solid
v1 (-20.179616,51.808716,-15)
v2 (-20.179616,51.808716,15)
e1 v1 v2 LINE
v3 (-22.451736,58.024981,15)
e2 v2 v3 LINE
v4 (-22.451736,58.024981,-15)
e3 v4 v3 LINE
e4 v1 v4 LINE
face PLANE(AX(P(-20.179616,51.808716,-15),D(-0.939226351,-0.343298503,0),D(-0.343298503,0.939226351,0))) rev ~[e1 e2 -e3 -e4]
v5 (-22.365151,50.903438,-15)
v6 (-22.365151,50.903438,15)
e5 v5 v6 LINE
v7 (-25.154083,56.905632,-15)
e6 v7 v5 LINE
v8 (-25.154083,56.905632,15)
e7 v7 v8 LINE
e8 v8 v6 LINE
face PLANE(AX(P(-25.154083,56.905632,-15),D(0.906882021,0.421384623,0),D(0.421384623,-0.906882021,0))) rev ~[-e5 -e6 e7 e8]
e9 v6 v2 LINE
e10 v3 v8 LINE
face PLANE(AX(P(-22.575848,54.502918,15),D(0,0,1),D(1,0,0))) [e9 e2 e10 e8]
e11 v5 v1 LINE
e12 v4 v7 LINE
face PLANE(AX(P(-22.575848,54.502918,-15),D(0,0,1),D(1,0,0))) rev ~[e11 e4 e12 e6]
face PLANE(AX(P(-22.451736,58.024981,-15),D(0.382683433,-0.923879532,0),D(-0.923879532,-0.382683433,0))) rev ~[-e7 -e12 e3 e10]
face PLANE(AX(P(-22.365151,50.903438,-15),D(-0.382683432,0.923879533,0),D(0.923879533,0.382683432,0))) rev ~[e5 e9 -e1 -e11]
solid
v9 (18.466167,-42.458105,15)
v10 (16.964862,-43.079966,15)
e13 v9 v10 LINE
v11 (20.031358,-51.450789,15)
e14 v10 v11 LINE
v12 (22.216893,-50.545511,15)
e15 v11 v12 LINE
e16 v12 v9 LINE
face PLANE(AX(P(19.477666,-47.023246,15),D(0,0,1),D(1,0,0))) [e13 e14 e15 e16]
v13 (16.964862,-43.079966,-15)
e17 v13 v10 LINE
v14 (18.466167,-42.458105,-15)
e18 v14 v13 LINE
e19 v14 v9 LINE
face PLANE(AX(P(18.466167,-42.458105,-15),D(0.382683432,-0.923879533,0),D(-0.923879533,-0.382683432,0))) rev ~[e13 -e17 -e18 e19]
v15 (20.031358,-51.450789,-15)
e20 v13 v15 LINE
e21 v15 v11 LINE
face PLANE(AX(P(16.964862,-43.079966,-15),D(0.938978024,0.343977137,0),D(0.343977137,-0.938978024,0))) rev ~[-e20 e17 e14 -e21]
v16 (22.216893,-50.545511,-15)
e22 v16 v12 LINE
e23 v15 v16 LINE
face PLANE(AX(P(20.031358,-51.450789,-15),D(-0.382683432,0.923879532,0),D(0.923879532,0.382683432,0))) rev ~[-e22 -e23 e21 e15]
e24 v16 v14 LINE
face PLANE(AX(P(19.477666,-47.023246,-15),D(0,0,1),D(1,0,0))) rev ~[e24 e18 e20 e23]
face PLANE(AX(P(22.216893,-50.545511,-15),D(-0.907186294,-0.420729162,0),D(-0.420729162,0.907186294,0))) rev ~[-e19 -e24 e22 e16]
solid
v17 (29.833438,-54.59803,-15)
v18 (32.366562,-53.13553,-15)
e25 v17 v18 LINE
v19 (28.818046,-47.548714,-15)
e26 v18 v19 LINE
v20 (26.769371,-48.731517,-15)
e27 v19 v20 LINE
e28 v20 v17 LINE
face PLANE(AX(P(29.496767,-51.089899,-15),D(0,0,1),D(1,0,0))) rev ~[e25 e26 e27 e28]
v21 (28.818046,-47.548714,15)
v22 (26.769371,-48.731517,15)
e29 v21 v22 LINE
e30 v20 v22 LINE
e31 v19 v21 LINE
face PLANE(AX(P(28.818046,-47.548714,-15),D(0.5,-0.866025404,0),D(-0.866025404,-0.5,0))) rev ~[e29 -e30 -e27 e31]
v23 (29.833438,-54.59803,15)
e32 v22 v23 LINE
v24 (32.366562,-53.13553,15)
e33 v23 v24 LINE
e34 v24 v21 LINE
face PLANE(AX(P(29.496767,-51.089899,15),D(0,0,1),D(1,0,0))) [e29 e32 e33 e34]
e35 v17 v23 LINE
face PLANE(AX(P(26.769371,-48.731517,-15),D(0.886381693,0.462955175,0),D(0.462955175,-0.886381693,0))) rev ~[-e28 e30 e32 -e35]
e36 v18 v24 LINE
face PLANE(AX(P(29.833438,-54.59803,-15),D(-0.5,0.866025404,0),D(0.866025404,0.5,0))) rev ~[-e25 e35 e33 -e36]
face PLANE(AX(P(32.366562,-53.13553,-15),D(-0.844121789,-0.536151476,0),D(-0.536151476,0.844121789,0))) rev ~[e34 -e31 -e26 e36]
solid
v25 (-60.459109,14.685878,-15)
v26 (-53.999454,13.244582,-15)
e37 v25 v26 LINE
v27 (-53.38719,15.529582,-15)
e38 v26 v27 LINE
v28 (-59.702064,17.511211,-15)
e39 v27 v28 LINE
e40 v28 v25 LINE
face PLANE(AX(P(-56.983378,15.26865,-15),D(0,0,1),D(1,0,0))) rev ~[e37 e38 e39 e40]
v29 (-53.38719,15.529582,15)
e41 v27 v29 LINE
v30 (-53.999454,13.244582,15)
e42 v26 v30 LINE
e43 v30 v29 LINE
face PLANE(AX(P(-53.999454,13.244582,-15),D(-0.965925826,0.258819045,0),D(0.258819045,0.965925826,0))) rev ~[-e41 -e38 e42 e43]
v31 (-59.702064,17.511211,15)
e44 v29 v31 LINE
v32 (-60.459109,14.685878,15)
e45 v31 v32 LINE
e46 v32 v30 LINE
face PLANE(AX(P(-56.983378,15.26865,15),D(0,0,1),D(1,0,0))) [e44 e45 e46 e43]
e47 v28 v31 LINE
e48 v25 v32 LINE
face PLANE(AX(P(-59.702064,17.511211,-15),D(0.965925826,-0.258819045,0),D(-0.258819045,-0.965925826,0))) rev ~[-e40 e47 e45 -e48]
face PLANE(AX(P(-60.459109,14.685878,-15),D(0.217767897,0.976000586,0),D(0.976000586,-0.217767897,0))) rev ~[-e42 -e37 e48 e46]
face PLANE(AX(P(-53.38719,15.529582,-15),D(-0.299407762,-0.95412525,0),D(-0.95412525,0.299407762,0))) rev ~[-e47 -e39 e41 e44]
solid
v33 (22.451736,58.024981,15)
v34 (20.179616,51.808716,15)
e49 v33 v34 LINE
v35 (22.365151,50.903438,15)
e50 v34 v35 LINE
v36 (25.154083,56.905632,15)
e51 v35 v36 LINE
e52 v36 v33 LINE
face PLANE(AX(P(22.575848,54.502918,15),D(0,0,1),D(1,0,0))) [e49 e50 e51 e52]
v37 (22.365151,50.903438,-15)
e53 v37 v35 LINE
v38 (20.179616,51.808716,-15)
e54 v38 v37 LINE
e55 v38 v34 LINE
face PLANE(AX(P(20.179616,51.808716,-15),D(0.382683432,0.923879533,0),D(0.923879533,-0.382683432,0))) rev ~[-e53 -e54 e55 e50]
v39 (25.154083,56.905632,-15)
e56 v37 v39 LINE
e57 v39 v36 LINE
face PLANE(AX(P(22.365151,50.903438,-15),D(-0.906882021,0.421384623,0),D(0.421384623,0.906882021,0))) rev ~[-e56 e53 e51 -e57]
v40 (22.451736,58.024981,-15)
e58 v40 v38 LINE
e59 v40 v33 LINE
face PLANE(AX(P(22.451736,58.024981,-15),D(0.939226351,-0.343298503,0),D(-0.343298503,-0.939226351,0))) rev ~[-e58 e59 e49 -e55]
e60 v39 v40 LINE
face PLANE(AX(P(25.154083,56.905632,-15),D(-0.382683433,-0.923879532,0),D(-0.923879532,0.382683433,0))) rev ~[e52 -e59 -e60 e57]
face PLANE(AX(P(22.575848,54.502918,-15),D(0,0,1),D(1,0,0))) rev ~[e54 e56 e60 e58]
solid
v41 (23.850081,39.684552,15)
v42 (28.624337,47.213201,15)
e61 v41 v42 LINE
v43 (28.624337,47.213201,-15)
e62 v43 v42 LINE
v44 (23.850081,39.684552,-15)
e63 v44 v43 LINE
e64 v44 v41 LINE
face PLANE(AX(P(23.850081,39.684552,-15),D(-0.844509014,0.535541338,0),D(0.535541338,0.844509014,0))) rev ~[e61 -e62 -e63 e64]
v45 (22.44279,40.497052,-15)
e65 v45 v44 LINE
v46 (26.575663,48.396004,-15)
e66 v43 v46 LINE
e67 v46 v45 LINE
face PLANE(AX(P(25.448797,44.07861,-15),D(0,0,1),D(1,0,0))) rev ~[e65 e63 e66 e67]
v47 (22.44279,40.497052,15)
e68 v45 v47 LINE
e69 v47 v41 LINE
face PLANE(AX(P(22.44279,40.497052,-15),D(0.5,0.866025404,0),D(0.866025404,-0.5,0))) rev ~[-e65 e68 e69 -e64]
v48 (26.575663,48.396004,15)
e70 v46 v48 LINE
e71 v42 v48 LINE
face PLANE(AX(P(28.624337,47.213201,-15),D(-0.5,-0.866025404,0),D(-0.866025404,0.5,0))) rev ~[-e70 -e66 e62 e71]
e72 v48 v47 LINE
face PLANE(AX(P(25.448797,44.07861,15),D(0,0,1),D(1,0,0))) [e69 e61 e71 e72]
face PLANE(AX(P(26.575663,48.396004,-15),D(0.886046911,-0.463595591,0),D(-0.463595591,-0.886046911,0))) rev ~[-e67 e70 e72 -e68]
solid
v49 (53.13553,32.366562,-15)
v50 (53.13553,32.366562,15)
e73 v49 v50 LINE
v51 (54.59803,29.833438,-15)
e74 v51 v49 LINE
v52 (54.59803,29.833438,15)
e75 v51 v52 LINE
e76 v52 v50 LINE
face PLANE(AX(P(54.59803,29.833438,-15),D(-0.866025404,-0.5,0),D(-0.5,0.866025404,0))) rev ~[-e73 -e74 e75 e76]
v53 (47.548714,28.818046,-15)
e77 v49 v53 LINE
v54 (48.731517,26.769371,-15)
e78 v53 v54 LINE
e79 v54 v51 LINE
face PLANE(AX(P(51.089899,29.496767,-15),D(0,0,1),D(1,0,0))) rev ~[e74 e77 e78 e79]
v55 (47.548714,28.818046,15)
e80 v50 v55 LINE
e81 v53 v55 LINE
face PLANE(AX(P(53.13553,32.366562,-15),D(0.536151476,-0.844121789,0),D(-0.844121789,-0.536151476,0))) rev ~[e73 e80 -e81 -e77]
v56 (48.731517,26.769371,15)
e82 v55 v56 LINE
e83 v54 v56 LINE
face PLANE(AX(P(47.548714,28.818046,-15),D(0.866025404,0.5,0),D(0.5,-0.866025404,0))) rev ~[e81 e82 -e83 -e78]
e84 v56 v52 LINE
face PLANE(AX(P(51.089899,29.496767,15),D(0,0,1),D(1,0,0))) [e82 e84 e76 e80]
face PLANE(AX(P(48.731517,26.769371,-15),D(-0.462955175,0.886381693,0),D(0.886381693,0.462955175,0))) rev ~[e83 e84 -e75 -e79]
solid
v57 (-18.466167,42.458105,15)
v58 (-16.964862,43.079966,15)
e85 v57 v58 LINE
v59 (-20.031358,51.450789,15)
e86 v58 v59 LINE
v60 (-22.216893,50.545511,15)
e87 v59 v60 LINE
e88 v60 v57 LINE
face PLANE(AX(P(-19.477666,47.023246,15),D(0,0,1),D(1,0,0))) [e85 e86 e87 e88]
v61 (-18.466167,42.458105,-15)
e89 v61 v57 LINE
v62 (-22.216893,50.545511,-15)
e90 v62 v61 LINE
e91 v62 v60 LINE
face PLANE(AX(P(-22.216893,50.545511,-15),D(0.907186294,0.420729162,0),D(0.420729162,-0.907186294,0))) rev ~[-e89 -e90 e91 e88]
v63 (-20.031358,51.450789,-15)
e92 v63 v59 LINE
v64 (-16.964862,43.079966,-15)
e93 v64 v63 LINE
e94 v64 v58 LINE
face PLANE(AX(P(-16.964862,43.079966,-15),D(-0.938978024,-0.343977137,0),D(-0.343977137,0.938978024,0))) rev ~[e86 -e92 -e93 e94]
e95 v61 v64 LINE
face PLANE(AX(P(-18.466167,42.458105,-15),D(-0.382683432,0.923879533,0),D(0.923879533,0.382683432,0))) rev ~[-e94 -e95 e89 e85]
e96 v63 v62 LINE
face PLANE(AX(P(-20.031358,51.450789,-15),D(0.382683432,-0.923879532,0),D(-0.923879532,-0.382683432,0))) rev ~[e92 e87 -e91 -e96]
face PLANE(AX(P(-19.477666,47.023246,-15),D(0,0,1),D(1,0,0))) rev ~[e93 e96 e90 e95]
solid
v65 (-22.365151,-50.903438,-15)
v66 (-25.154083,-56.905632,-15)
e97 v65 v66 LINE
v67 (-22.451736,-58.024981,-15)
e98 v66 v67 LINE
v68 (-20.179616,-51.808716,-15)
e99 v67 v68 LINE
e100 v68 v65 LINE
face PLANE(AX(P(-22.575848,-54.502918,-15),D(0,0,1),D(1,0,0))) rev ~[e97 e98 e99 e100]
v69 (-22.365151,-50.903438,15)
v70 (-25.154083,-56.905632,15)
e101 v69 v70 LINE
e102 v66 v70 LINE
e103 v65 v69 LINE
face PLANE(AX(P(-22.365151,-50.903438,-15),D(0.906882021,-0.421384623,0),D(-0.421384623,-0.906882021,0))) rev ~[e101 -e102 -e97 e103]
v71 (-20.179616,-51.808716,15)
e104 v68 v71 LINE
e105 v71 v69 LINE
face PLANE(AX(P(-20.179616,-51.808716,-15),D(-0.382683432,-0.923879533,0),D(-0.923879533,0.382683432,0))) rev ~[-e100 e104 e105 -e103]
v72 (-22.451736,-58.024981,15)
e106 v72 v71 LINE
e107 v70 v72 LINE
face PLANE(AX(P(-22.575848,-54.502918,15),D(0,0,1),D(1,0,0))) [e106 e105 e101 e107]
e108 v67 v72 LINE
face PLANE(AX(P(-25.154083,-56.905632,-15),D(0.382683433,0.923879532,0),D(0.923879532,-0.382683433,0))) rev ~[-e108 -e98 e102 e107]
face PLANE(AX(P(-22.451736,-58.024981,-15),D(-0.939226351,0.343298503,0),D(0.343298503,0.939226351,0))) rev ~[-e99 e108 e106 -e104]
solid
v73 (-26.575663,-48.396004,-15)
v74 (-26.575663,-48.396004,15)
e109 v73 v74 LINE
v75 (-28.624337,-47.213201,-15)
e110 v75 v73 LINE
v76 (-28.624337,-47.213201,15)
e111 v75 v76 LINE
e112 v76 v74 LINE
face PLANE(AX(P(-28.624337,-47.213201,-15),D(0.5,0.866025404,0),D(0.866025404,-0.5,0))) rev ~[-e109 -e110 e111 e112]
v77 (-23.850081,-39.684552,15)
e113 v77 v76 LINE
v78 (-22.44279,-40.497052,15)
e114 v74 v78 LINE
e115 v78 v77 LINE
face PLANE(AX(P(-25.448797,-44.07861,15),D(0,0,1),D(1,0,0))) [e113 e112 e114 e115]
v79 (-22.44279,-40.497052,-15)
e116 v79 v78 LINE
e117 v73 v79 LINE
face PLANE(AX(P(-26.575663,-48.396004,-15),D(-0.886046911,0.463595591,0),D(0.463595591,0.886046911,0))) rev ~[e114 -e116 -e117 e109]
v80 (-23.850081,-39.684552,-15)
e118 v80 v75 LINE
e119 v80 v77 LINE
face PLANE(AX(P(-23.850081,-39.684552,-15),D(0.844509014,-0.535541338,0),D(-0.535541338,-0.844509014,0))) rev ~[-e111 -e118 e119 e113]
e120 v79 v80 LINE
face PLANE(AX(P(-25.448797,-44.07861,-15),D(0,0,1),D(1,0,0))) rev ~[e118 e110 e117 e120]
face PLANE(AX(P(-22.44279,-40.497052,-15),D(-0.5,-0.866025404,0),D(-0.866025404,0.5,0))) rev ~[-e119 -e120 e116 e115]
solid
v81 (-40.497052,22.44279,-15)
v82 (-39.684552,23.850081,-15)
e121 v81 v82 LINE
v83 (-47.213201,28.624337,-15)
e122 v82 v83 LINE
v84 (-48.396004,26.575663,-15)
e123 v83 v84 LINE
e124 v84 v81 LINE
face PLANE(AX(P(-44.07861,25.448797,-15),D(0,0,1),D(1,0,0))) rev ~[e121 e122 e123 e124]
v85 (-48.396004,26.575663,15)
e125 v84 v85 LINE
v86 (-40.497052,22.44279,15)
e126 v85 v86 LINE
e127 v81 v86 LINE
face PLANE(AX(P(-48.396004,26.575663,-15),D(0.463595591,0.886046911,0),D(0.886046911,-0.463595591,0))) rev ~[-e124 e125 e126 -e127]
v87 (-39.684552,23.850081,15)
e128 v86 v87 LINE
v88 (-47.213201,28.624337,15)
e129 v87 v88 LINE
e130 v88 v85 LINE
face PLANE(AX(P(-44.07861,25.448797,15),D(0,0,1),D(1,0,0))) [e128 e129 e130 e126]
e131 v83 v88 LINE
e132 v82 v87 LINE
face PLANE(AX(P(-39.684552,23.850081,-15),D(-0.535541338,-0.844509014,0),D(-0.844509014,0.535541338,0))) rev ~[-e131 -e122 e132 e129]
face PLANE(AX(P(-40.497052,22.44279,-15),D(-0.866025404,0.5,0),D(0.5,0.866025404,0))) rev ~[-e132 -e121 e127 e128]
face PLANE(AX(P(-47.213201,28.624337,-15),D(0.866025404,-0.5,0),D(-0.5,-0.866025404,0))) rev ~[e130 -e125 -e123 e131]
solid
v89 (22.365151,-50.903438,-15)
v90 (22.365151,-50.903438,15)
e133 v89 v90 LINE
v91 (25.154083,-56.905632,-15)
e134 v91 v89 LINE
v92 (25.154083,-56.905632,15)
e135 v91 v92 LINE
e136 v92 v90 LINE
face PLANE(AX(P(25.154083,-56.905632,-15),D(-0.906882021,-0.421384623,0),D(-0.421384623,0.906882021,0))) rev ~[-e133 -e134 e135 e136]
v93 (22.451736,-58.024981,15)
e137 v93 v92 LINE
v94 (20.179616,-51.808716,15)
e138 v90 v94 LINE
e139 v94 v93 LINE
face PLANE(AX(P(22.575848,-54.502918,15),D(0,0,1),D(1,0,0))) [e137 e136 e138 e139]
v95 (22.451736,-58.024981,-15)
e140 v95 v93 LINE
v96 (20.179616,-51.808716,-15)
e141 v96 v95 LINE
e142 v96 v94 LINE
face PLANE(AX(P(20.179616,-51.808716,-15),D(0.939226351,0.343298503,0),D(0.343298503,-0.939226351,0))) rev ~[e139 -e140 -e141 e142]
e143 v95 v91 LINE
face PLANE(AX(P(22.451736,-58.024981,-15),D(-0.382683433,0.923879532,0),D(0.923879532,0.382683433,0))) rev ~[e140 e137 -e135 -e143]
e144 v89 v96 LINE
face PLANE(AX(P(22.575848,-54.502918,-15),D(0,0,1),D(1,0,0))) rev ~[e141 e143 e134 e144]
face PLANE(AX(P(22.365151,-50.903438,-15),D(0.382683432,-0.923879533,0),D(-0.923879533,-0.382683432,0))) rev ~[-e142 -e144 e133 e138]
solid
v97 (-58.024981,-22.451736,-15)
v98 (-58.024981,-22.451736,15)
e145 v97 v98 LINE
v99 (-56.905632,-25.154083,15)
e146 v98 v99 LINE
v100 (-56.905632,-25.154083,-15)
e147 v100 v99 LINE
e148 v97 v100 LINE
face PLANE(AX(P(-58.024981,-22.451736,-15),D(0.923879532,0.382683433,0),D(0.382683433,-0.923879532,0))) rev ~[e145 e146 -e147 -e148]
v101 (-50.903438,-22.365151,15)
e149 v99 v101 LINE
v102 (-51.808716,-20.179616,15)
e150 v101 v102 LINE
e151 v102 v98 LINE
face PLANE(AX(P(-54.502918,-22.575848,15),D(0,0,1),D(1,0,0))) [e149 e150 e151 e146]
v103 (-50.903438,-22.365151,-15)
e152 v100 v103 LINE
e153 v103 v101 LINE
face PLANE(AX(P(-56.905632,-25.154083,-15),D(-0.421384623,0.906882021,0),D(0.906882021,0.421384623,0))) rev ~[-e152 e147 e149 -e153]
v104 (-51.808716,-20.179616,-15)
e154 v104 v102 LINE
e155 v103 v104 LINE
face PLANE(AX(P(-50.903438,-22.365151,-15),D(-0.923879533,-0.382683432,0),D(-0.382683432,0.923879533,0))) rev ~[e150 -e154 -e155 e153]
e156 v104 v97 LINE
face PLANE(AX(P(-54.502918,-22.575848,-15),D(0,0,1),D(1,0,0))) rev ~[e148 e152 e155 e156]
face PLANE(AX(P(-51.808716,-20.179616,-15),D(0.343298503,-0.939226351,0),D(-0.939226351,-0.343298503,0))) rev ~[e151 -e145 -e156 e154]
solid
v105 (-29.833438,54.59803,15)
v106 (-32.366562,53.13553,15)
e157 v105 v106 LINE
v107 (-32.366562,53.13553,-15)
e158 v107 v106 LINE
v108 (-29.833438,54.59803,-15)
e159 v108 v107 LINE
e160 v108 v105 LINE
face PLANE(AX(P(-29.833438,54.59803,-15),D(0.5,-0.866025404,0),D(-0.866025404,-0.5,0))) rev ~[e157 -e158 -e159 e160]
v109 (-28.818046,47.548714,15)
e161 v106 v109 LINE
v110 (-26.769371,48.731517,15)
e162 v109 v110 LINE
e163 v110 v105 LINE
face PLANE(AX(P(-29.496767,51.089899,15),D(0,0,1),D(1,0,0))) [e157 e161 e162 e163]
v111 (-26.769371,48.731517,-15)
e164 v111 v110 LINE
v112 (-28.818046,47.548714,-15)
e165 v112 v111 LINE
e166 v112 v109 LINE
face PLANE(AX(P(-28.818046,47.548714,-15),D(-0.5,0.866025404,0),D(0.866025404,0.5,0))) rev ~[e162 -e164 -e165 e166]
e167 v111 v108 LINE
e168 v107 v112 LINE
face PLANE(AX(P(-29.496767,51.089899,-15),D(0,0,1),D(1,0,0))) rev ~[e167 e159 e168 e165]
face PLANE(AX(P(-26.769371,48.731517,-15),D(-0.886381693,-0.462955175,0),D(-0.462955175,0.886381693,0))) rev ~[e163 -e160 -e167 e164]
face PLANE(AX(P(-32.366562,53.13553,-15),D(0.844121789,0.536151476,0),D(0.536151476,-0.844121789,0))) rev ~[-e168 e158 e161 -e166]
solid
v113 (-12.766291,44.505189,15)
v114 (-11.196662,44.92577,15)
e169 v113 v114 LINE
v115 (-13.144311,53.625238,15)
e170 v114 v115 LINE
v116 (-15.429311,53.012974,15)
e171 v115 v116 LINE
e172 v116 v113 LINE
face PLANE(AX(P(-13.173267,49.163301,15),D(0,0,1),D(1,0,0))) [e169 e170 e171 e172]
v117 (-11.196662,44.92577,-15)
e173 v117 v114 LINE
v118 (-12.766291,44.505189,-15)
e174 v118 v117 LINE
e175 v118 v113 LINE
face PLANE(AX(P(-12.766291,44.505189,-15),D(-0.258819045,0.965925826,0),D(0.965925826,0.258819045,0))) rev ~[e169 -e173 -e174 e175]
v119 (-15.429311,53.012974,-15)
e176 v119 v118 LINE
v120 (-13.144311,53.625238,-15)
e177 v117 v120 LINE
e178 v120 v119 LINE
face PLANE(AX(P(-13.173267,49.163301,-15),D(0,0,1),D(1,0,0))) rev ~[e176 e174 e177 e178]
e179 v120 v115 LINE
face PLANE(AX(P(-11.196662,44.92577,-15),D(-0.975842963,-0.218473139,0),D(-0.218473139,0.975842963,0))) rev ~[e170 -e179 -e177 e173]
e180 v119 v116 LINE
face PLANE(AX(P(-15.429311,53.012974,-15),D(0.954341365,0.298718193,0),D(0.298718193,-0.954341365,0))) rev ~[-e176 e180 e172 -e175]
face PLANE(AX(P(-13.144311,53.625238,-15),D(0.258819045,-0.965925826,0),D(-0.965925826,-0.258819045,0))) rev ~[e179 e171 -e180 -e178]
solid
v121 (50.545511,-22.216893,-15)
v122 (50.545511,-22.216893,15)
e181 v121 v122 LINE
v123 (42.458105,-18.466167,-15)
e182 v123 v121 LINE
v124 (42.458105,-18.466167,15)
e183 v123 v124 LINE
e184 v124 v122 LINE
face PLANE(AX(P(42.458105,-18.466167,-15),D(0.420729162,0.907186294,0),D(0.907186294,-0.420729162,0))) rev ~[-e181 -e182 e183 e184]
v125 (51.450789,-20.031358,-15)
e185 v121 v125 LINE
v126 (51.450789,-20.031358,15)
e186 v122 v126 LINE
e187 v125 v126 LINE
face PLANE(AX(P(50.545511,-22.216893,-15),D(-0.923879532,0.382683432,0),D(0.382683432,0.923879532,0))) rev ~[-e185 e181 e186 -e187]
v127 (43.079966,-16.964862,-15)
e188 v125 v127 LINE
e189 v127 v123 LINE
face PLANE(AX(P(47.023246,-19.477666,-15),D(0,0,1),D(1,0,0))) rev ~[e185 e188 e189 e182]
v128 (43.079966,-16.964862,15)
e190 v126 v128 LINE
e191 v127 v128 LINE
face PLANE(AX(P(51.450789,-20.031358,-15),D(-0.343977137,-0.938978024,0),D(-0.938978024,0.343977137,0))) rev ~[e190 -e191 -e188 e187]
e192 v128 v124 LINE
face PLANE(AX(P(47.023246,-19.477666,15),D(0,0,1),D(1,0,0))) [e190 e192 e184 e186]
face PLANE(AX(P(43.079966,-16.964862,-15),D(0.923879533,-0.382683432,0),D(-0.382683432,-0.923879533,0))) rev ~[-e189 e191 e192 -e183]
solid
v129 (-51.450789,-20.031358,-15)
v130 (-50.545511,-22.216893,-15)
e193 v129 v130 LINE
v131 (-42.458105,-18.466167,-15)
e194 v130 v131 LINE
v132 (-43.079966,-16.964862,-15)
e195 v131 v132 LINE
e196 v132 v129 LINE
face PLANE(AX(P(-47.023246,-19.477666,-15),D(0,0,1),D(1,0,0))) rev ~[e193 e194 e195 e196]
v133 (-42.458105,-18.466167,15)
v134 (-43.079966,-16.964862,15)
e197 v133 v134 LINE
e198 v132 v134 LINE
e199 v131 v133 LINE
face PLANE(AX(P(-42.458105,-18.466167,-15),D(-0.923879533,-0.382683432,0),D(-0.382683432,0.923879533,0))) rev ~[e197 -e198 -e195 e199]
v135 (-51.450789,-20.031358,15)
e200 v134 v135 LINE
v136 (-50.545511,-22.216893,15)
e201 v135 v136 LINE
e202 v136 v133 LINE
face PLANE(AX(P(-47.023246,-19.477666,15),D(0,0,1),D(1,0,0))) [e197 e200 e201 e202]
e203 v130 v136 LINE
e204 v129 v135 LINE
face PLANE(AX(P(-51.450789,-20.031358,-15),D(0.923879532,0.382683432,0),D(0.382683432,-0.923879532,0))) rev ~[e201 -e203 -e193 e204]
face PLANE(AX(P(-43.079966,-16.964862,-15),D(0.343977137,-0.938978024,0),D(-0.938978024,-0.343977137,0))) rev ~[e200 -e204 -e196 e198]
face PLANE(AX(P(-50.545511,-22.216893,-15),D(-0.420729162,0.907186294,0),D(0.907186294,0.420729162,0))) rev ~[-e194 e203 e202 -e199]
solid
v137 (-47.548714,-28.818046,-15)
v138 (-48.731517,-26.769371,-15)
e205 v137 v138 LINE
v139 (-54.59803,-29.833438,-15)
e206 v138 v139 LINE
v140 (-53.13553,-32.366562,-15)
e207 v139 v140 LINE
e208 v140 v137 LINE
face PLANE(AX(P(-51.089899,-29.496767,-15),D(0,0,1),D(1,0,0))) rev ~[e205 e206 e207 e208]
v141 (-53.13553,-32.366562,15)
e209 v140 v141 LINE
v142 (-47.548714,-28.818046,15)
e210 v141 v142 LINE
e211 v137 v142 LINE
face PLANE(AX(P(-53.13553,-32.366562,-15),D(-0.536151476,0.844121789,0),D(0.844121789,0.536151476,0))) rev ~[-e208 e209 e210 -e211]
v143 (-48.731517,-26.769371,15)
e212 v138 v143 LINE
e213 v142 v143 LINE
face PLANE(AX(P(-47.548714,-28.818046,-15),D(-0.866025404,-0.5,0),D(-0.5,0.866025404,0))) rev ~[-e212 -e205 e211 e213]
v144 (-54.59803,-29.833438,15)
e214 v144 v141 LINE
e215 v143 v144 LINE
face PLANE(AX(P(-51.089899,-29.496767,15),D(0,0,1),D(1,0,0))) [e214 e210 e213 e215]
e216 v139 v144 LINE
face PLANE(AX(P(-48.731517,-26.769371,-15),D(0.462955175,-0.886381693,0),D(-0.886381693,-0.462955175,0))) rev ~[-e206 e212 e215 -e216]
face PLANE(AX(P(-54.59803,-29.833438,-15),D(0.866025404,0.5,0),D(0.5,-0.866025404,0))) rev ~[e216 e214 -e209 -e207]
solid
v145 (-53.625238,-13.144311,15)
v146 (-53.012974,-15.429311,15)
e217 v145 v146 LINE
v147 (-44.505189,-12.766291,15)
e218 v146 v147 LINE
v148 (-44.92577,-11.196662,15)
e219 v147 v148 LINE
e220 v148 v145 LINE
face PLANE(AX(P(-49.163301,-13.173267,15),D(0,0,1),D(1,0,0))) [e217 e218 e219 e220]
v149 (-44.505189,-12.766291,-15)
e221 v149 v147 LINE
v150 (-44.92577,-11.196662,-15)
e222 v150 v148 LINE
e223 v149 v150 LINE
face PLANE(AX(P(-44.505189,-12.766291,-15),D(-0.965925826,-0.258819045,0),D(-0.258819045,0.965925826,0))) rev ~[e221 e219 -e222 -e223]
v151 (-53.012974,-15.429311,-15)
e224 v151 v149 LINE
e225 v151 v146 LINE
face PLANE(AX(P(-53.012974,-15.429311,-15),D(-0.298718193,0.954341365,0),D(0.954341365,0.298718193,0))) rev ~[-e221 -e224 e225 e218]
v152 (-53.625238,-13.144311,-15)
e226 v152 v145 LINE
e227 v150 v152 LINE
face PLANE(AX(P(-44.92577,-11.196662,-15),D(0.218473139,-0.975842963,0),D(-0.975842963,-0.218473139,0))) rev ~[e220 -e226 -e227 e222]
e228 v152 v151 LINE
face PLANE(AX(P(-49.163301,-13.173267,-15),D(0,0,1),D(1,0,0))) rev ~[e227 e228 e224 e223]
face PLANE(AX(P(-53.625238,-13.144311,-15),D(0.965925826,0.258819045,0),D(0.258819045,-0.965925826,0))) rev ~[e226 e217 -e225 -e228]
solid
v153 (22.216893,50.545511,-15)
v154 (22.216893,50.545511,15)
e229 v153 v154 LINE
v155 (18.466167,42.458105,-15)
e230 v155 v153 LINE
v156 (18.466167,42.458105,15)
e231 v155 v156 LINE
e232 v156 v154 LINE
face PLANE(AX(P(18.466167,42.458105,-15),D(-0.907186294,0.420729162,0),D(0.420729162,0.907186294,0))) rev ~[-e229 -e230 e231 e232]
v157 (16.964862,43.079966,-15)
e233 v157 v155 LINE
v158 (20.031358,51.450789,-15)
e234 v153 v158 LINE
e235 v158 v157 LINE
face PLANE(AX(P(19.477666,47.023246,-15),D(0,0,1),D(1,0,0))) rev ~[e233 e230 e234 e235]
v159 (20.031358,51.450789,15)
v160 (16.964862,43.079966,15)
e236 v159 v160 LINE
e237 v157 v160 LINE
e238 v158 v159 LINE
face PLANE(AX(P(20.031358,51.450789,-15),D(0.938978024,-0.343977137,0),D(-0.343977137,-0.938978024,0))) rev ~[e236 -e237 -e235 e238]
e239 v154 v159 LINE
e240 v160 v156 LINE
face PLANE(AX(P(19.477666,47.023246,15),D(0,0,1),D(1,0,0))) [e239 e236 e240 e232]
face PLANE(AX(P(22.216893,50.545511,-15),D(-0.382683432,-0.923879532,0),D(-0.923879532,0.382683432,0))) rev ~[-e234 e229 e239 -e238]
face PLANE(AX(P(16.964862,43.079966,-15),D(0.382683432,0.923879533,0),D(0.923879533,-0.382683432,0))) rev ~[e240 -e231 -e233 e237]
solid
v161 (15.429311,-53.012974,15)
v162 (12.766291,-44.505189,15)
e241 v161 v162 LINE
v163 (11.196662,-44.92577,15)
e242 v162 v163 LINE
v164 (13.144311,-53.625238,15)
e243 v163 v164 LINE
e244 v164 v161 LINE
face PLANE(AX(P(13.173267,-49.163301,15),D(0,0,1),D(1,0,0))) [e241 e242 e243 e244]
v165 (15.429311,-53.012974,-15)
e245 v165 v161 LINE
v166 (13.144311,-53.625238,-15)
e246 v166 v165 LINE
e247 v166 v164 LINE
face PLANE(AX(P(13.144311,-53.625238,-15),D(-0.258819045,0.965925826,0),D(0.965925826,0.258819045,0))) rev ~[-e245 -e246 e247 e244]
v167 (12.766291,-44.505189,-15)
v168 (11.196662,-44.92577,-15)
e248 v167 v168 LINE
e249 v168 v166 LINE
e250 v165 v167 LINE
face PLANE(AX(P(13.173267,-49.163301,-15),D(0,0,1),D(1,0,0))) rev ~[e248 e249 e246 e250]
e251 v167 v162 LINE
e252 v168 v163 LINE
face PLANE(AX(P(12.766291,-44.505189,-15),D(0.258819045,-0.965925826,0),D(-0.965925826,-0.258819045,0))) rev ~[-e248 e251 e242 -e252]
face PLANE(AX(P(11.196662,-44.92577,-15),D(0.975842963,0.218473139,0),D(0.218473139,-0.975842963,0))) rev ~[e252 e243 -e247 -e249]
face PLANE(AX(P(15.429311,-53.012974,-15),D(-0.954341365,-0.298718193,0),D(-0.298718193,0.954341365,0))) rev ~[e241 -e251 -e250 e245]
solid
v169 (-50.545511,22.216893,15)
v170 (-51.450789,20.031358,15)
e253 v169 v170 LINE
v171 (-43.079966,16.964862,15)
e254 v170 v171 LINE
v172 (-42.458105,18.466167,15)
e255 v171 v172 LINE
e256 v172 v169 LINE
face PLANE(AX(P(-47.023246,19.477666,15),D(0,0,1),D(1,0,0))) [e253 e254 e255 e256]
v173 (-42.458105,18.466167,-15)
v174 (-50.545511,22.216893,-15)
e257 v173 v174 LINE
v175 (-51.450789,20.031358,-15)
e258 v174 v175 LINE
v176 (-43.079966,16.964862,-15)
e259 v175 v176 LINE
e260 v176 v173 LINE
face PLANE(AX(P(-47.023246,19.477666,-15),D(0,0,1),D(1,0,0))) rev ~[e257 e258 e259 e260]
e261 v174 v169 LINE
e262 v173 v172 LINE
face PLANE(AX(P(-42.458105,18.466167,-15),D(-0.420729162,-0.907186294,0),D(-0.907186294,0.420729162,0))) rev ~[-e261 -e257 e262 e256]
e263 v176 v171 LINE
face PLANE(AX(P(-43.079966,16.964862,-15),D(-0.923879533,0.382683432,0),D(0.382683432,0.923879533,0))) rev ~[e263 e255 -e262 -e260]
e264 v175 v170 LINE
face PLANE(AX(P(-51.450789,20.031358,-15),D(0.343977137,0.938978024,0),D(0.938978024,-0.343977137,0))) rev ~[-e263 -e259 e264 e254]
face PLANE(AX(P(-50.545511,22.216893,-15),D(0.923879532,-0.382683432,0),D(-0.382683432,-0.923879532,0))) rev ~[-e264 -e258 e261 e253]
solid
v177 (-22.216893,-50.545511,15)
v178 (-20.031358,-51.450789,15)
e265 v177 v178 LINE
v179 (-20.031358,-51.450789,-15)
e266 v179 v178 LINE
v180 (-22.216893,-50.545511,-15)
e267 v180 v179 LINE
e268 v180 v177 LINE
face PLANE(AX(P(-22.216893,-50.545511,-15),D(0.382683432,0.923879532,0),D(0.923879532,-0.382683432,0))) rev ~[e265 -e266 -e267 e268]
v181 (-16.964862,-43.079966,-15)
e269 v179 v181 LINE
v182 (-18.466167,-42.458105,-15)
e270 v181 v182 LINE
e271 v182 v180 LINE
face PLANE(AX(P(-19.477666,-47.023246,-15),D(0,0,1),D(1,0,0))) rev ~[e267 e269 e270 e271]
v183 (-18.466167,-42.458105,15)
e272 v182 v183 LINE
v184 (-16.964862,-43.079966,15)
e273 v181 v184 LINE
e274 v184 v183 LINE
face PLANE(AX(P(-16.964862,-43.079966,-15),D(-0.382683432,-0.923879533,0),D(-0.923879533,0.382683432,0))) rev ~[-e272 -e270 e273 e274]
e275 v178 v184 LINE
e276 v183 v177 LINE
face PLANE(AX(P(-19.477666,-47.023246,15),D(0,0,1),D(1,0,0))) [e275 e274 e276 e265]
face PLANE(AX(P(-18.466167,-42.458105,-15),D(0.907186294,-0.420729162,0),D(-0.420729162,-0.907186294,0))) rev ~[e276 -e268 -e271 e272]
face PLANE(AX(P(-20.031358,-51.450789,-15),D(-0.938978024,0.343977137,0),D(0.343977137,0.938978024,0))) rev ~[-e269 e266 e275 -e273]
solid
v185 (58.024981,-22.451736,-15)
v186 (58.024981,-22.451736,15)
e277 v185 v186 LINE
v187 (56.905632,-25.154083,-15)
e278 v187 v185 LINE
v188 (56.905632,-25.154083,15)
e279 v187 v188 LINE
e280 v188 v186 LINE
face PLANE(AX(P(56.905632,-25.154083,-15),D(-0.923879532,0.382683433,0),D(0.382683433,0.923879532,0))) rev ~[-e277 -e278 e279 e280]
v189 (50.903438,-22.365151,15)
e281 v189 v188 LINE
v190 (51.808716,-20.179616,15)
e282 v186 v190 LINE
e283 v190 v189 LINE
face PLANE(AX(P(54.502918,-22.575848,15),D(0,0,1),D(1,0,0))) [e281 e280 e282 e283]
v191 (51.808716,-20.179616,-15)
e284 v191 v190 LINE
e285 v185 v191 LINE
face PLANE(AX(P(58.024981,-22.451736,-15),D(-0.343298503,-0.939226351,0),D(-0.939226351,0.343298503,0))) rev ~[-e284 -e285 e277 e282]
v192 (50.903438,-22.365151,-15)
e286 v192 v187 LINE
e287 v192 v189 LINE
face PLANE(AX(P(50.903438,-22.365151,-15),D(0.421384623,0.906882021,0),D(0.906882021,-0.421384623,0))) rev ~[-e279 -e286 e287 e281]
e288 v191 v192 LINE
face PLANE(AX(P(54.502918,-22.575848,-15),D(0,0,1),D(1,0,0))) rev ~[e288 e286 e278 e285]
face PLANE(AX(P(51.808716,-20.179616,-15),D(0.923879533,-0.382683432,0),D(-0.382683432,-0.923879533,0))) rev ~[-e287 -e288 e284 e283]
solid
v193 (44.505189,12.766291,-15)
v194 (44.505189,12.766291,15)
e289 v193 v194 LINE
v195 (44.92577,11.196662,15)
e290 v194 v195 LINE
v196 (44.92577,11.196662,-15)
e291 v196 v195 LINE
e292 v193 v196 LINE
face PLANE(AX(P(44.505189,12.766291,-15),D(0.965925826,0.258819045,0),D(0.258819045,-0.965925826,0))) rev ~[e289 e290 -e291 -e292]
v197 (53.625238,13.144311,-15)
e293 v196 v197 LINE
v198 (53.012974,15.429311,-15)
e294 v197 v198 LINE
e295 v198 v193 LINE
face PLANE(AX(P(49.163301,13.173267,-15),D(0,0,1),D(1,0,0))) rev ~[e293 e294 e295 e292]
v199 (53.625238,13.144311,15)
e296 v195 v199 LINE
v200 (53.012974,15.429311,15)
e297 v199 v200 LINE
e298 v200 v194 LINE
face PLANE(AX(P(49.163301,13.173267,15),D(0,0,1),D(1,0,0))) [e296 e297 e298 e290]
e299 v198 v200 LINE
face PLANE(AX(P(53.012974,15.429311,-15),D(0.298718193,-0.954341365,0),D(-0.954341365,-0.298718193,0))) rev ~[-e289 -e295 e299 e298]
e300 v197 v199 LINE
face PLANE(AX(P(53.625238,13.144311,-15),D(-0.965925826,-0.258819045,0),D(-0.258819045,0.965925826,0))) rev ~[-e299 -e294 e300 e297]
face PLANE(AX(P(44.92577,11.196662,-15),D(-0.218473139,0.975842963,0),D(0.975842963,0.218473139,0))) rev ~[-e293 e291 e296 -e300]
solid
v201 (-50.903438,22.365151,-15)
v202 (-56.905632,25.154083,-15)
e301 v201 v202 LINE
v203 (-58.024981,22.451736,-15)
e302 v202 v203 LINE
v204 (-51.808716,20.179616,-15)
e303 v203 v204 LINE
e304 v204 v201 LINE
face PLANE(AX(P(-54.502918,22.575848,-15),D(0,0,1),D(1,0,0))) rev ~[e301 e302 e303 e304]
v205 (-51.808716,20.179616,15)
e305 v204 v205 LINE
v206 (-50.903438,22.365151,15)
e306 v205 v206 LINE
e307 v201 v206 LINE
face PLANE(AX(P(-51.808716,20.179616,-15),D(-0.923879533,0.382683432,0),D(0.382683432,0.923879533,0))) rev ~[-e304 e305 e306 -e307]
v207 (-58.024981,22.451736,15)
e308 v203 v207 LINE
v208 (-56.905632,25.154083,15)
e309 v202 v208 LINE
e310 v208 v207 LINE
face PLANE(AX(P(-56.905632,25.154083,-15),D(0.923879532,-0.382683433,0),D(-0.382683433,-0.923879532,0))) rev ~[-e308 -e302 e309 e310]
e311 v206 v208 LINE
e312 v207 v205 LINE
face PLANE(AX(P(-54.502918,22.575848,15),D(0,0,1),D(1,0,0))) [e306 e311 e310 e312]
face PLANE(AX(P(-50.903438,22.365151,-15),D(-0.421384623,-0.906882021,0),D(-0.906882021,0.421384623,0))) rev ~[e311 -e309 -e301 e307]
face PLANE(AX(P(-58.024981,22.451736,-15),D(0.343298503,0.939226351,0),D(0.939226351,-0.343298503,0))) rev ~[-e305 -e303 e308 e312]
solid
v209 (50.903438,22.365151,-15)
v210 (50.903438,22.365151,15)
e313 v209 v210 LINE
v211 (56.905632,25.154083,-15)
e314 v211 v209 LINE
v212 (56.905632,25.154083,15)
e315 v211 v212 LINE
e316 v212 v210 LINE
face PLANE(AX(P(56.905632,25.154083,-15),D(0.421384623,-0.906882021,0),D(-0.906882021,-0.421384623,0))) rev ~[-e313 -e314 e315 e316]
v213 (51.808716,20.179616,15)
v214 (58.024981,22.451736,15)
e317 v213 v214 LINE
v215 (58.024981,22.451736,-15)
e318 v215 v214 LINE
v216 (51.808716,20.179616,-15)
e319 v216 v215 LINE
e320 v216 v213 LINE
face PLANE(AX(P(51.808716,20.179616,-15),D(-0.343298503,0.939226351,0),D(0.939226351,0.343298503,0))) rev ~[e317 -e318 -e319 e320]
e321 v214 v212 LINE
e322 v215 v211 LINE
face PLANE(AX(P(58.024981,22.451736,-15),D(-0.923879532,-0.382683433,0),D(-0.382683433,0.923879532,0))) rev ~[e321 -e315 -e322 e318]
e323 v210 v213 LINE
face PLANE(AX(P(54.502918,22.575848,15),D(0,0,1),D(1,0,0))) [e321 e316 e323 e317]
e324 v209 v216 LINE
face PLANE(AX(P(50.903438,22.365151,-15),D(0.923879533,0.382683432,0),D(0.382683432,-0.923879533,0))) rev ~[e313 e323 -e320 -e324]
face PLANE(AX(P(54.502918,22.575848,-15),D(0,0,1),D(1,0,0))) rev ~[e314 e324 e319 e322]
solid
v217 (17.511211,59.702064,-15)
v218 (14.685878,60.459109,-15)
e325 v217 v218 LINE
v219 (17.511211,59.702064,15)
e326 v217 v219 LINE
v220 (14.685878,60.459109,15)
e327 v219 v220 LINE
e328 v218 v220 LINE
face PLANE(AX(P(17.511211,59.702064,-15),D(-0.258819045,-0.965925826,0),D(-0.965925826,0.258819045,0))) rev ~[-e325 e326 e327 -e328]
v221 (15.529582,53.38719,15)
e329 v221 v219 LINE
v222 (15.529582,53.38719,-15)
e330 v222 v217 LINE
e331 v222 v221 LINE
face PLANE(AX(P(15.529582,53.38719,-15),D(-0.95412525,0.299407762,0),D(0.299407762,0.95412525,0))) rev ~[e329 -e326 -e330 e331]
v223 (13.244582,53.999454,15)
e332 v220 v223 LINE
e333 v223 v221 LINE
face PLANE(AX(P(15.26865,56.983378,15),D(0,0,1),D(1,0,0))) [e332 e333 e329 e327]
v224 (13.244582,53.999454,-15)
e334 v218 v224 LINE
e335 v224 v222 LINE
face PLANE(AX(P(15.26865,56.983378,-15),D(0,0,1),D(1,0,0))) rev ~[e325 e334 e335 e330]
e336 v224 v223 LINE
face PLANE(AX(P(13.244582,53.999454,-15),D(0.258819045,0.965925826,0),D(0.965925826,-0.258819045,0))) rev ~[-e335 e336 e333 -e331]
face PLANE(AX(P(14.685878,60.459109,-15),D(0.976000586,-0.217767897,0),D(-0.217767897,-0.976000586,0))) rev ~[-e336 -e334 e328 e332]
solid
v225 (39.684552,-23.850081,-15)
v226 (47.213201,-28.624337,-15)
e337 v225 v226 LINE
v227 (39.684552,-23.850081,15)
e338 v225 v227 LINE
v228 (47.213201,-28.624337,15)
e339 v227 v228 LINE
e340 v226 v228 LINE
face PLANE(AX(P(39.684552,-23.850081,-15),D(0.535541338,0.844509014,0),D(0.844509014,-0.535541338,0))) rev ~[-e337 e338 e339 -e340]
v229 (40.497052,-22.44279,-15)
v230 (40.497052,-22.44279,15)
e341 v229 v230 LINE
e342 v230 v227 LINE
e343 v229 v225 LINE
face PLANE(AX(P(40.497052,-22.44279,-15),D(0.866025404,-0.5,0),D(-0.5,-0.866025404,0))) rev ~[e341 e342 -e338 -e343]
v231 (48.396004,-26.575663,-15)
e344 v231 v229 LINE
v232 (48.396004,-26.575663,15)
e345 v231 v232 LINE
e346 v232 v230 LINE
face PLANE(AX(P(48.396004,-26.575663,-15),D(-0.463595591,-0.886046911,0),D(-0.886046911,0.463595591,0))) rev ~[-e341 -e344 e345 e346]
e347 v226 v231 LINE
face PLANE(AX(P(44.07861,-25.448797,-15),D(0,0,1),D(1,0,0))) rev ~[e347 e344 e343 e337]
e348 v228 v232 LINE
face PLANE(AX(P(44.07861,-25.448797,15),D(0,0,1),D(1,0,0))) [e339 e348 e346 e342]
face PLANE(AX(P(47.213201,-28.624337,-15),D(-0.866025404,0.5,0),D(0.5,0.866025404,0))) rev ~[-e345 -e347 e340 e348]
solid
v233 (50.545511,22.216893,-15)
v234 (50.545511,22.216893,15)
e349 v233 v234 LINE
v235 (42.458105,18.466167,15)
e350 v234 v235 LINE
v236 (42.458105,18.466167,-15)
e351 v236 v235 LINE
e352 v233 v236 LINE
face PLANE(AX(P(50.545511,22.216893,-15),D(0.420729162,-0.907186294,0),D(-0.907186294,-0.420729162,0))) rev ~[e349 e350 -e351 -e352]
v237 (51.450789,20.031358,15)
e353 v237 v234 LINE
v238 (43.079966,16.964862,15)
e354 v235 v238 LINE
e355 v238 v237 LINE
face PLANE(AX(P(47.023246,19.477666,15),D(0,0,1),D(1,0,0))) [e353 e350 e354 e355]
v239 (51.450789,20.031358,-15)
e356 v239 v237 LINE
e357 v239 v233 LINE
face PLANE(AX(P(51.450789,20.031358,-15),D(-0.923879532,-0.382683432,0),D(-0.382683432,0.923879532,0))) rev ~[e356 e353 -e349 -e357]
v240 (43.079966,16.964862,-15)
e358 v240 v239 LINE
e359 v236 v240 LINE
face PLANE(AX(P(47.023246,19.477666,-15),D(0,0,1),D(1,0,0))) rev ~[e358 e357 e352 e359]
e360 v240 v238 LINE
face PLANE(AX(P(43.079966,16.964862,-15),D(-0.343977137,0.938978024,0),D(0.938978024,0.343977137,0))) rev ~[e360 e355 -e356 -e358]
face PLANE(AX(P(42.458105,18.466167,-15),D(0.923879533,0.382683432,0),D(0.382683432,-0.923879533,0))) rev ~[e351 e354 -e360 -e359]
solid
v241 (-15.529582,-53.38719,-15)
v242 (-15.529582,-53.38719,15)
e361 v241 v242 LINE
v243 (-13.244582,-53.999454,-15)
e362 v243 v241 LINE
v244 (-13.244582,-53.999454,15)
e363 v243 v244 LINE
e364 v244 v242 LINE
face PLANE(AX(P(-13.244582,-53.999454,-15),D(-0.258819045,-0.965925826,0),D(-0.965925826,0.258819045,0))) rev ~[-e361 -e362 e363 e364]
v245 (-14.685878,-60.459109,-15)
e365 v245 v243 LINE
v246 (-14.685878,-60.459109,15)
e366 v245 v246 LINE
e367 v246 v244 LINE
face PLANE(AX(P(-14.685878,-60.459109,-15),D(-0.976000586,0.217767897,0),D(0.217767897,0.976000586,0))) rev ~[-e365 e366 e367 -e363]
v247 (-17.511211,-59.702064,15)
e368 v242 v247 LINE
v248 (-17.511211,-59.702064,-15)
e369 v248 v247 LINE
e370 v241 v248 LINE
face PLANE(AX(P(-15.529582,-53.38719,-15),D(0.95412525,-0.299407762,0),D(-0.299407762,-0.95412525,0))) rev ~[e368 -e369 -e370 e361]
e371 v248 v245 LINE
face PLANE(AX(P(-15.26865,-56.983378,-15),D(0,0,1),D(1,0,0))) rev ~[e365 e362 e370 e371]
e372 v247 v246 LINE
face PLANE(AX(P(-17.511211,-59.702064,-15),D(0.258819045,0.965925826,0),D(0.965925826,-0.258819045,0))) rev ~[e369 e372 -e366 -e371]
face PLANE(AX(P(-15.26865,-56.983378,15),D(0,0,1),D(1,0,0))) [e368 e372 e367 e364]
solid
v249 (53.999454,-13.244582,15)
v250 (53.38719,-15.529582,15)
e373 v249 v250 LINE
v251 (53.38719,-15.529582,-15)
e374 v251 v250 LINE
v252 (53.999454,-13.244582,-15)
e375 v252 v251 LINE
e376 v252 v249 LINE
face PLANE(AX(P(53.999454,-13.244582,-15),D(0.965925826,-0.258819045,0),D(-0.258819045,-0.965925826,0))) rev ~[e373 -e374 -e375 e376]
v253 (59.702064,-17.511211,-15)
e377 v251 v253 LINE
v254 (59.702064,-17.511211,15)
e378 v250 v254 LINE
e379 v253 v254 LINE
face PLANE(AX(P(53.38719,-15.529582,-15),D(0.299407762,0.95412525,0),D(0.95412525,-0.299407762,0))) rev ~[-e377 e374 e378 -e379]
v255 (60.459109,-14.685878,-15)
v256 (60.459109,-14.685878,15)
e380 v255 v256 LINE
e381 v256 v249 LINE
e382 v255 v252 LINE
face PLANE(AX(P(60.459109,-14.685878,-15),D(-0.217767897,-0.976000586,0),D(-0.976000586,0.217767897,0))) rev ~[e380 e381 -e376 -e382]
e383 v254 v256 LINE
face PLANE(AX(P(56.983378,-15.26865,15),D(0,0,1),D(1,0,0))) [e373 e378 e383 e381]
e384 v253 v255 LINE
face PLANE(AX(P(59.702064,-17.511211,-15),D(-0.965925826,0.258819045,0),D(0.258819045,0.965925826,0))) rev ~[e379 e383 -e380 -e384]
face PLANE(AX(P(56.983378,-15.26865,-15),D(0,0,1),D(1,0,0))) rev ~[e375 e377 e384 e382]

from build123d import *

# Parameters (mm, degrees)
SLOT_COPPER_ENVELOPES_START    = -15
SLOT_COPPER_ENVELOPES_DEPTH    = 30
SLOT_COPPER_ENVELOPES_2_DEPTH  = 30
SLOT_COPPER_ENVELOPES_3_DEPTH  = 30
SLOT_COPPER_ENVELOPES_4_DEPTH  = 30
SLOT_COPPER_ENVELOPES_5_DEPTH  = 30
SLOT_COPPER_ENVELOPES_6_DEPTH  = 30
SLOT_COPPER_ENVELOPES_7_DEPTH  = 30
SLOT_COPPER_ENVELOPES_8_DEPTH  = 30
SLOT_COPPER_ENVELOPES_9_DEPTH  = 30
SLOT_COPPER_ENVELOPES_10_DEPTH = 30
SLOT_COPPER_ENVELOPES_11_DEPTH = 30
SLOT_COPPER_ENVELOPES_12_DEPTH = 30
SLOT_COPPER_ENVELOPES_13_DEPTH = 30
SLOT_COPPER_ENVELOPES_14_DEPTH = 30
SLOT_COPPER_ENVELOPES_15_DEPTH = 30
SLOT_COPPER_ENVELOPES_16_DEPTH = 30
SLOT_COPPER_ENVELOPES_17_DEPTH = 30
SLOT_COPPER_ENVELOPES_18_DEPTH = 30
SLOT_COPPER_ENVELOPES_19_DEPTH = 30
SLOT_COPPER_ENVELOPES_20_DEPTH = 30
SLOT_COPPER_ENVELOPES_21_DEPTH = 30
SLOT_COPPER_ENVELOPES_22_DEPTH = 30
SLOT_COPPER_ENVELOPES_23_DEPTH = 30
SLOT_COPPER_ENVELOPES_24_DEPTH = 30
SLOT_COPPER_ENVELOPES_25_DEPTH = 30
SLOT_COPPER_ENVELOPES_26_DEPTH = 30
SLOT_COPPER_ENVELOPES_27_DEPTH = 30
SLOT_COPPER_ENVELOPES_28_DEPTH = 30
SLOT_COPPER_ENVELOPES_29_DEPTH = 30
SLOT_COPPER_ENVELOPES_30_DEPTH = 30
SLOT_COPPER_ENVELOPES_31_DEPTH = 30
SLOT_COPPER_ENVELOPES_32_DEPTH = 30


with BuildPart() as part:
    # Эскиз1 → Slot_copper_envelopes (new body)
    with BuildSketch(Plane.XY.offset(SLOT_COPPER_ENVELOPES_START)):
        Polygon((44.925769503, 11.196661761), (53.625237562, 13.144311295), (53.01297366, 15.429311284), (44.505188554, 12.766291229), align=None)
    extrude(amount=SLOT_COPPER_ENVELOPES_DEPTH)


with BuildPart() as body_2:
    # Эскиз1 → Slot_copper_envelopes 2 (new body)
    with BuildSketch(Plane.XY.offset(SLOT_COPPER_ENVELOPES_START)):
        Polygon((51.808716356, 20.179616189), (58.024981442, 22.451735677), (56.905632402, 25.154083309), (50.903438109, 22.365151211), align=None)
    extrude(amount=SLOT_COPPER_ENVELOPES_2_DEPTH)


with BuildPart() as body_3:
    # Эскиз1 → Slot_copper_envelopes 3 (new body)
    with BuildSketch(Plane.XY.offset(SLOT_COPPER_ENVELOPES_START)):
        Polygon((43.079965691, 16.964862393), (51.450789318, 20.031357956), (50.545511071, 22.216892977), (42.458105114, 18.466166634), align=None)
    extrude(amount=SLOT_COPPER_ENVELOPES_3_DEPTH)


with BuildPart() as body_4:
    # Эскиз1 → Slot_copper_envelopes 4 (new body)
    with BuildSketch(Plane.XY.offset(SLOT_COPPER_ENVELOPES_START)):
        Polygon((48.731517144, 26.769371245), (54.598030115, 29.833437847), (53.135530115, 32.366562153), (47.548714114, 28.818046189), align=None)
    extrude(amount=SLOT_COPPER_ENVELOPES_4_DEPTH)


with BuildPart() as body_5:
    # Эскиз1 → Slot_copper_envelopes 5 (new body)
    with BuildSketch(Plane.XY.offset(SLOT_COPPER_ENVELOPES_START)):
        Polygon((23.850080808, 39.684551723), (28.624337472, 47.213200774), (26.575662528, 48.396003804), (22.442789526, 40.497051723), align=None)
    extrude(amount=SLOT_COPPER_ENVELOPES_5_DEPTH)


with BuildPart() as body_6:
    # Эскиз1 → Slot_copper_envelopes 6 (new body)
    with BuildSketch(Plane.XY.offset(SLOT_COPPER_ENVELOPES_START)):
        Polygon((22.365151211, 50.903438109), (25.154083309, 56.905632402), (22.451735677, 58.024981442), (20.179616189, 51.808716356), align=None)
    extrude(amount=SLOT_COPPER_ENVELOPES_6_DEPTH)


with BuildPart() as body_7:
    # Эскиз1 → Slot_copper_envelopes 7 (new body)
    with BuildSketch(Plane.XY.offset(SLOT_COPPER_ENVELOPES_START)):
        Polygon((18.466166634, 42.458105114), (22.216892977, 50.545511071), (20.031357956, 51.450789318), (16.964862393, 43.079965691), align=None)
    extrude(amount=SLOT_COPPER_ENVELOPES_7_DEPTH)


with BuildPart() as body_8:
    # Эскиз1 → Slot_copper_envelopes 8 (new body)
    with BuildSketch(Plane.XY.offset(SLOT_COPPER_ENVELOPES_START)):
        Polygon((15.529582294, 53.387190165), (17.511211126, 59.702063542), (14.685878084, 60.459109249), (13.244582306, 53.999454067), align=None)
    extrude(amount=SLOT_COPPER_ENVELOPES_8_DEPTH)


with BuildPart() as body_9:
    # Эскиз1 → Slot_copper_envelopes 9 (new body)
    with BuildSketch(Plane.XY.offset(SLOT_COPPER_ENVELOPES_START)):
        Polygon((-11.196661761, 44.925769503), (-13.144311295, 53.625237562), (-15.429311284, 53.01297366), (-12.766291229, 44.505188554), align=None)
    extrude(amount=SLOT_COPPER_ENVELOPES_9_DEPTH)


with BuildPart() as body_10:
    # Эскиз1 → Slot_copper_envelopes 10 (new body)
    with BuildSketch(Plane.XY.offset(SLOT_COPPER_ENVELOPES_START)):
        Polygon((-20.179616189, 51.808716356), (-22.451735677, 58.024981442), (-25.154083309, 56.905632402), (-22.365151211, 50.903438109), align=None)
    extrude(amount=SLOT_COPPER_ENVELOPES_10_DEPTH)


with BuildPart() as body_11:
    # Эскиз1 → Slot_copper_envelopes 11 (new body)
    with BuildSketch(Plane.XY.offset(SLOT_COPPER_ENVELOPES_START)):
        Polygon((-16.964862393, 43.079965691), (-20.031357956, 51.450789318), (-22.216892977, 50.545511071), (-18.466166634, 42.458105114), align=None)
    extrude(amount=SLOT_COPPER_ENVELOPES_11_DEPTH)


with BuildPart() as body_12:
    # Эскиз1 → Slot_copper_envelopes 12 (new body)
    with BuildSketch(Plane.XY.offset(SLOT_COPPER_ENVELOPES_START)):
        Polygon((-26.769371245, 48.731517144), (-29.833437847, 54.598030115), (-32.366562153, 53.135530115), (-28.818046189, 47.548714114), align=None)
    extrude(amount=SLOT_COPPER_ENVELOPES_12_DEPTH)


with BuildPart() as body_13:
    # Эскиз1 → Slot_copper_envelopes 13 (new body)
    with BuildSketch(Plane.XY.offset(SLOT_COPPER_ENVELOPES_START)):
        Polygon((-39.684551723, 23.850080808), (-47.213200774, 28.624337472), (-48.396003804, 26.575662528), (-40.497051723, 22.442789526), align=None)
    extrude(amount=SLOT_COPPER_ENVELOPES_13_DEPTH)


with BuildPart() as body_14:
    # Эскиз1 → Slot_copper_envelopes 14 (new body)
    with BuildSketch(Plane.XY.offset(SLOT_COPPER_ENVELOPES_START)):
        Polygon((-50.903438109, 22.365151211), (-56.905632402, 25.154083309), (-58.024981442, 22.451735677), (-51.808716356, 20.179616189), align=None)
    extrude(amount=SLOT_COPPER_ENVELOPES_14_DEPTH)


with BuildPart() as body_15:
    # Эскиз1 → Slot_copper_envelopes 15 (new body)
    with BuildSketch(Plane.XY.offset(SLOT_COPPER_ENVELOPES_START)):
        Polygon((-42.458105114, 18.466166634), (-50.545511071, 22.216892977), (-51.450789318, 20.031357956), (-43.079965691, 16.964862393), align=None)
    extrude(amount=SLOT_COPPER_ENVELOPES_15_DEPTH)


with BuildPart() as body_16:
    # Эскиз1 → Slot_copper_envelopes 16 (new body)
    with BuildSketch(Plane.XY.offset(SLOT_COPPER_ENVELOPES_START)):
        Polygon((-53.387190165, 15.529582294), (-59.702063542, 17.511211126), (-60.459109249, 14.685878084), (-53.999454067, 13.244582306), align=None)
    extrude(amount=SLOT_COPPER_ENVELOPES_16_DEPTH)


with BuildPart() as body_17:
    # Эскиз1 → Slot_copper_envelopes 17 (new body)
    with BuildSketch(Plane.XY.offset(SLOT_COPPER_ENVELOPES_START)):
        Polygon((-44.925769503, -11.196661761), (-53.625237562, -13.144311295), (-53.01297366, -15.429311284), (-44.505188554, -12.766291229), align=None)
    extrude(amount=SLOT_COPPER_ENVELOPES_17_DEPTH)


with BuildPart() as body_18:
    # Эскиз1 → Slot_copper_envelopes 18 (new body)
    with BuildSketch(Plane.XY.offset(SLOT_COPPER_ENVELOPES_START)):
        Polygon((-51.808716356, -20.179616189), (-58.024981442, -22.451735677), (-56.905632402, -25.154083309), (-50.903438109, -22.365151211), align=None)
    extrude(amount=SLOT_COPPER_ENVELOPES_18_DEPTH)


with BuildPart() as body_19:
    # Эскиз1 → Slot_copper_envelopes 19 (new body)
    with BuildSketch(Plane.XY.offset(SLOT_COPPER_ENVELOPES_START)):
        Polygon((-43.079965691, -16.964862393), (-51.450789318, -20.031357956), (-50.545511071, -22.216892977), (-42.458105114, -18.466166634), align=None)
    extrude(amount=SLOT_COPPER_ENVELOPES_19_DEPTH)


with BuildPart() as body_20:
    # Эскиз1 → Slot_copper_envelopes 20 (new body)
    with BuildSketch(Plane.XY.offset(SLOT_COPPER_ENVELOPES_START)):
        Polygon((-48.731517144, -26.769371245), (-54.598030115, -29.833437847), (-53.135530115, -32.366562153), (-47.548714114, -28.818046189), align=None)
    extrude(amount=SLOT_COPPER_ENVELOPES_20_DEPTH)


with BuildPart() as body_21:
    # Эскиз1 → Slot_copper_envelopes 21 (new body)
    with BuildSketch(Plane.XY.offset(SLOT_COPPER_ENVELOPES_START)):
        Polygon((-23.850080808, -39.684551723), (-28.624337472, -47.213200774), (-26.575662528, -48.396003804), (-22.442789526, -40.497051723), align=None)
    extrude(amount=SLOT_COPPER_ENVELOPES_21_DEPTH)


with BuildPart() as body_22:
    # Эскиз1 → Slot_copper_envelopes 22 (new body)
    with BuildSketch(Plane.XY.offset(SLOT_COPPER_ENVELOPES_START)):
        Polygon((-22.365151211, -50.903438109), (-25.154083309, -56.905632402), (-22.451735677, -58.024981442), (-20.179616189, -51.808716356), align=None)
    extrude(amount=SLOT_COPPER_ENVELOPES_22_DEPTH)


with BuildPart() as body_23:
    # Эскиз1 → Slot_copper_envelopes 23 (new body)
    with BuildSketch(Plane.XY.offset(SLOT_COPPER_ENVELOPES_START)):
        Polygon((-18.466166634, -42.458105114), (-22.216892977, -50.545511071), (-20.031357956, -51.450789318), (-16.964862393, -43.079965691), align=None)
    extrude(amount=SLOT_COPPER_ENVELOPES_23_DEPTH)


with BuildPart() as body_24:
    # Эскиз1 → Slot_copper_envelopes 24 (new body)
    with BuildSketch(Plane.XY.offset(SLOT_COPPER_ENVELOPES_START)):
        Polygon((-15.529582294, -53.387190165), (-17.511211126, -59.702063542), (-14.685878084, -60.459109249), (-13.244582306, -53.999454067), align=None)
    extrude(amount=SLOT_COPPER_ENVELOPES_24_DEPTH)


with BuildPart() as body_25:
    # Эскиз1 → Slot_copper_envelopes 25 (new body)
    with BuildSketch(Plane.XY.offset(SLOT_COPPER_ENVELOPES_START)):
        Polygon((11.196661761, -44.925769503), (13.144311295, -53.625237562), (15.429311284, -53.01297366), (12.766291229, -44.505188554), align=None)
    extrude(amount=SLOT_COPPER_ENVELOPES_25_DEPTH)


with BuildPart() as body_26:
    # Эскиз1 → Slot_copper_envelopes 26 (new body)
    with BuildSketch(Plane.XY.offset(SLOT_COPPER_ENVELOPES_START)):
        Polygon((20.179616189, -51.808716356), (22.451735677, -58.024981442), (25.154083309, -56.905632402), (22.365151211, -50.903438109), align=None)
    extrude(amount=SLOT_COPPER_ENVELOPES_26_DEPTH)


with BuildPart() as body_27:
    # Эскиз1 → Slot_copper_envelopes 27 (new body)
    with BuildSketch(Plane.XY.offset(SLOT_COPPER_ENVELOPES_START)):
        Polygon((16.964862393, -43.079965691), (20.031357956, -51.450789318), (22.216892977, -50.545511071), (18.466166634, -42.458105114), align=None)
    extrude(amount=SLOT_COPPER_ENVELOPES_27_DEPTH)


with BuildPart() as body_28:
    # Эскиз1 → Slot_copper_envelopes 28 (new body)
    with BuildSketch(Plane.XY.offset(SLOT_COPPER_ENVELOPES_START)):
        Polygon((26.769371245, -48.731517144), (29.833437847, -54.598030115), (32.366562153, -53.135530115), (28.818046189, -47.548714114), align=None)
    extrude(amount=SLOT_COPPER_ENVELOPES_28_DEPTH)


with BuildPart() as body_29:
    # Эскиз1 → Slot_copper_envelopes 29 (new body)
    with BuildSketch(Plane.XY.offset(SLOT_COPPER_ENVELOPES_START)):
        Polygon((39.684551723, -23.850080808), (47.213200774, -28.624337472), (48.396003804, -26.575662528), (40.497051723, -22.442789526), align=None)
    extrude(amount=SLOT_COPPER_ENVELOPES_29_DEPTH)


with BuildPart() as body_30:
    # Эскиз1 → Slot_copper_envelopes 30 (new body)
    with BuildSketch(Plane.XY.offset(SLOT_COPPER_ENVELOPES_START)):
        Polygon((50.903438109, -22.365151211), (56.905632402, -25.154083309), (58.024981442, -22.451735677), (51.808716356, -20.179616189), align=None)
    extrude(amount=SLOT_COPPER_ENVELOPES_30_DEPTH)


with BuildPart() as body_31:
    # Эскиз1 → Slot_copper_envelopes 31 (new body)
    with BuildSketch(Plane.XY.offset(SLOT_COPPER_ENVELOPES_START)):
        Polygon((42.458105114, -18.466166634), (50.545511071, -22.216892977), (51.450789318, -20.031357956), (43.079965691, -16.964862393), align=None)
    extrude(amount=SLOT_COPPER_ENVELOPES_31_DEPTH)


with BuildPart() as body_32:
    # Эскиз1 → Slot_copper_envelopes 32 (new body)
    with BuildSketch(Plane.XY.offset(SLOT_COPPER_ENVELOPES_START)):
        Polygon((53.387190165, -15.529582294), (59.702063542, -17.511211126), (60.459109249, -14.685878084), (53.999454067, -13.244582306), align=None)
    extrude(amount=SLOT_COPPER_ENVELOPES_32_DEPTH)


solid = Compound([part.part, body_2.part, body_3.part, body_4.part, body_5.part, body_6.part, body_7.part, body_8.part, body_9.part, body_10.part, body_11.part, body_12.part, body_13.part, body_14.part, body_15.part, body_16.part, body_17.part, body_18.part, body_19.part, body_20.part, body_21.part, body_22.part, body_23.part, body_24.part, body_25.part, body_26.part, body_27.part, body_28.part, body_29.part, body_30.part, body_31.part, body_32.part])
